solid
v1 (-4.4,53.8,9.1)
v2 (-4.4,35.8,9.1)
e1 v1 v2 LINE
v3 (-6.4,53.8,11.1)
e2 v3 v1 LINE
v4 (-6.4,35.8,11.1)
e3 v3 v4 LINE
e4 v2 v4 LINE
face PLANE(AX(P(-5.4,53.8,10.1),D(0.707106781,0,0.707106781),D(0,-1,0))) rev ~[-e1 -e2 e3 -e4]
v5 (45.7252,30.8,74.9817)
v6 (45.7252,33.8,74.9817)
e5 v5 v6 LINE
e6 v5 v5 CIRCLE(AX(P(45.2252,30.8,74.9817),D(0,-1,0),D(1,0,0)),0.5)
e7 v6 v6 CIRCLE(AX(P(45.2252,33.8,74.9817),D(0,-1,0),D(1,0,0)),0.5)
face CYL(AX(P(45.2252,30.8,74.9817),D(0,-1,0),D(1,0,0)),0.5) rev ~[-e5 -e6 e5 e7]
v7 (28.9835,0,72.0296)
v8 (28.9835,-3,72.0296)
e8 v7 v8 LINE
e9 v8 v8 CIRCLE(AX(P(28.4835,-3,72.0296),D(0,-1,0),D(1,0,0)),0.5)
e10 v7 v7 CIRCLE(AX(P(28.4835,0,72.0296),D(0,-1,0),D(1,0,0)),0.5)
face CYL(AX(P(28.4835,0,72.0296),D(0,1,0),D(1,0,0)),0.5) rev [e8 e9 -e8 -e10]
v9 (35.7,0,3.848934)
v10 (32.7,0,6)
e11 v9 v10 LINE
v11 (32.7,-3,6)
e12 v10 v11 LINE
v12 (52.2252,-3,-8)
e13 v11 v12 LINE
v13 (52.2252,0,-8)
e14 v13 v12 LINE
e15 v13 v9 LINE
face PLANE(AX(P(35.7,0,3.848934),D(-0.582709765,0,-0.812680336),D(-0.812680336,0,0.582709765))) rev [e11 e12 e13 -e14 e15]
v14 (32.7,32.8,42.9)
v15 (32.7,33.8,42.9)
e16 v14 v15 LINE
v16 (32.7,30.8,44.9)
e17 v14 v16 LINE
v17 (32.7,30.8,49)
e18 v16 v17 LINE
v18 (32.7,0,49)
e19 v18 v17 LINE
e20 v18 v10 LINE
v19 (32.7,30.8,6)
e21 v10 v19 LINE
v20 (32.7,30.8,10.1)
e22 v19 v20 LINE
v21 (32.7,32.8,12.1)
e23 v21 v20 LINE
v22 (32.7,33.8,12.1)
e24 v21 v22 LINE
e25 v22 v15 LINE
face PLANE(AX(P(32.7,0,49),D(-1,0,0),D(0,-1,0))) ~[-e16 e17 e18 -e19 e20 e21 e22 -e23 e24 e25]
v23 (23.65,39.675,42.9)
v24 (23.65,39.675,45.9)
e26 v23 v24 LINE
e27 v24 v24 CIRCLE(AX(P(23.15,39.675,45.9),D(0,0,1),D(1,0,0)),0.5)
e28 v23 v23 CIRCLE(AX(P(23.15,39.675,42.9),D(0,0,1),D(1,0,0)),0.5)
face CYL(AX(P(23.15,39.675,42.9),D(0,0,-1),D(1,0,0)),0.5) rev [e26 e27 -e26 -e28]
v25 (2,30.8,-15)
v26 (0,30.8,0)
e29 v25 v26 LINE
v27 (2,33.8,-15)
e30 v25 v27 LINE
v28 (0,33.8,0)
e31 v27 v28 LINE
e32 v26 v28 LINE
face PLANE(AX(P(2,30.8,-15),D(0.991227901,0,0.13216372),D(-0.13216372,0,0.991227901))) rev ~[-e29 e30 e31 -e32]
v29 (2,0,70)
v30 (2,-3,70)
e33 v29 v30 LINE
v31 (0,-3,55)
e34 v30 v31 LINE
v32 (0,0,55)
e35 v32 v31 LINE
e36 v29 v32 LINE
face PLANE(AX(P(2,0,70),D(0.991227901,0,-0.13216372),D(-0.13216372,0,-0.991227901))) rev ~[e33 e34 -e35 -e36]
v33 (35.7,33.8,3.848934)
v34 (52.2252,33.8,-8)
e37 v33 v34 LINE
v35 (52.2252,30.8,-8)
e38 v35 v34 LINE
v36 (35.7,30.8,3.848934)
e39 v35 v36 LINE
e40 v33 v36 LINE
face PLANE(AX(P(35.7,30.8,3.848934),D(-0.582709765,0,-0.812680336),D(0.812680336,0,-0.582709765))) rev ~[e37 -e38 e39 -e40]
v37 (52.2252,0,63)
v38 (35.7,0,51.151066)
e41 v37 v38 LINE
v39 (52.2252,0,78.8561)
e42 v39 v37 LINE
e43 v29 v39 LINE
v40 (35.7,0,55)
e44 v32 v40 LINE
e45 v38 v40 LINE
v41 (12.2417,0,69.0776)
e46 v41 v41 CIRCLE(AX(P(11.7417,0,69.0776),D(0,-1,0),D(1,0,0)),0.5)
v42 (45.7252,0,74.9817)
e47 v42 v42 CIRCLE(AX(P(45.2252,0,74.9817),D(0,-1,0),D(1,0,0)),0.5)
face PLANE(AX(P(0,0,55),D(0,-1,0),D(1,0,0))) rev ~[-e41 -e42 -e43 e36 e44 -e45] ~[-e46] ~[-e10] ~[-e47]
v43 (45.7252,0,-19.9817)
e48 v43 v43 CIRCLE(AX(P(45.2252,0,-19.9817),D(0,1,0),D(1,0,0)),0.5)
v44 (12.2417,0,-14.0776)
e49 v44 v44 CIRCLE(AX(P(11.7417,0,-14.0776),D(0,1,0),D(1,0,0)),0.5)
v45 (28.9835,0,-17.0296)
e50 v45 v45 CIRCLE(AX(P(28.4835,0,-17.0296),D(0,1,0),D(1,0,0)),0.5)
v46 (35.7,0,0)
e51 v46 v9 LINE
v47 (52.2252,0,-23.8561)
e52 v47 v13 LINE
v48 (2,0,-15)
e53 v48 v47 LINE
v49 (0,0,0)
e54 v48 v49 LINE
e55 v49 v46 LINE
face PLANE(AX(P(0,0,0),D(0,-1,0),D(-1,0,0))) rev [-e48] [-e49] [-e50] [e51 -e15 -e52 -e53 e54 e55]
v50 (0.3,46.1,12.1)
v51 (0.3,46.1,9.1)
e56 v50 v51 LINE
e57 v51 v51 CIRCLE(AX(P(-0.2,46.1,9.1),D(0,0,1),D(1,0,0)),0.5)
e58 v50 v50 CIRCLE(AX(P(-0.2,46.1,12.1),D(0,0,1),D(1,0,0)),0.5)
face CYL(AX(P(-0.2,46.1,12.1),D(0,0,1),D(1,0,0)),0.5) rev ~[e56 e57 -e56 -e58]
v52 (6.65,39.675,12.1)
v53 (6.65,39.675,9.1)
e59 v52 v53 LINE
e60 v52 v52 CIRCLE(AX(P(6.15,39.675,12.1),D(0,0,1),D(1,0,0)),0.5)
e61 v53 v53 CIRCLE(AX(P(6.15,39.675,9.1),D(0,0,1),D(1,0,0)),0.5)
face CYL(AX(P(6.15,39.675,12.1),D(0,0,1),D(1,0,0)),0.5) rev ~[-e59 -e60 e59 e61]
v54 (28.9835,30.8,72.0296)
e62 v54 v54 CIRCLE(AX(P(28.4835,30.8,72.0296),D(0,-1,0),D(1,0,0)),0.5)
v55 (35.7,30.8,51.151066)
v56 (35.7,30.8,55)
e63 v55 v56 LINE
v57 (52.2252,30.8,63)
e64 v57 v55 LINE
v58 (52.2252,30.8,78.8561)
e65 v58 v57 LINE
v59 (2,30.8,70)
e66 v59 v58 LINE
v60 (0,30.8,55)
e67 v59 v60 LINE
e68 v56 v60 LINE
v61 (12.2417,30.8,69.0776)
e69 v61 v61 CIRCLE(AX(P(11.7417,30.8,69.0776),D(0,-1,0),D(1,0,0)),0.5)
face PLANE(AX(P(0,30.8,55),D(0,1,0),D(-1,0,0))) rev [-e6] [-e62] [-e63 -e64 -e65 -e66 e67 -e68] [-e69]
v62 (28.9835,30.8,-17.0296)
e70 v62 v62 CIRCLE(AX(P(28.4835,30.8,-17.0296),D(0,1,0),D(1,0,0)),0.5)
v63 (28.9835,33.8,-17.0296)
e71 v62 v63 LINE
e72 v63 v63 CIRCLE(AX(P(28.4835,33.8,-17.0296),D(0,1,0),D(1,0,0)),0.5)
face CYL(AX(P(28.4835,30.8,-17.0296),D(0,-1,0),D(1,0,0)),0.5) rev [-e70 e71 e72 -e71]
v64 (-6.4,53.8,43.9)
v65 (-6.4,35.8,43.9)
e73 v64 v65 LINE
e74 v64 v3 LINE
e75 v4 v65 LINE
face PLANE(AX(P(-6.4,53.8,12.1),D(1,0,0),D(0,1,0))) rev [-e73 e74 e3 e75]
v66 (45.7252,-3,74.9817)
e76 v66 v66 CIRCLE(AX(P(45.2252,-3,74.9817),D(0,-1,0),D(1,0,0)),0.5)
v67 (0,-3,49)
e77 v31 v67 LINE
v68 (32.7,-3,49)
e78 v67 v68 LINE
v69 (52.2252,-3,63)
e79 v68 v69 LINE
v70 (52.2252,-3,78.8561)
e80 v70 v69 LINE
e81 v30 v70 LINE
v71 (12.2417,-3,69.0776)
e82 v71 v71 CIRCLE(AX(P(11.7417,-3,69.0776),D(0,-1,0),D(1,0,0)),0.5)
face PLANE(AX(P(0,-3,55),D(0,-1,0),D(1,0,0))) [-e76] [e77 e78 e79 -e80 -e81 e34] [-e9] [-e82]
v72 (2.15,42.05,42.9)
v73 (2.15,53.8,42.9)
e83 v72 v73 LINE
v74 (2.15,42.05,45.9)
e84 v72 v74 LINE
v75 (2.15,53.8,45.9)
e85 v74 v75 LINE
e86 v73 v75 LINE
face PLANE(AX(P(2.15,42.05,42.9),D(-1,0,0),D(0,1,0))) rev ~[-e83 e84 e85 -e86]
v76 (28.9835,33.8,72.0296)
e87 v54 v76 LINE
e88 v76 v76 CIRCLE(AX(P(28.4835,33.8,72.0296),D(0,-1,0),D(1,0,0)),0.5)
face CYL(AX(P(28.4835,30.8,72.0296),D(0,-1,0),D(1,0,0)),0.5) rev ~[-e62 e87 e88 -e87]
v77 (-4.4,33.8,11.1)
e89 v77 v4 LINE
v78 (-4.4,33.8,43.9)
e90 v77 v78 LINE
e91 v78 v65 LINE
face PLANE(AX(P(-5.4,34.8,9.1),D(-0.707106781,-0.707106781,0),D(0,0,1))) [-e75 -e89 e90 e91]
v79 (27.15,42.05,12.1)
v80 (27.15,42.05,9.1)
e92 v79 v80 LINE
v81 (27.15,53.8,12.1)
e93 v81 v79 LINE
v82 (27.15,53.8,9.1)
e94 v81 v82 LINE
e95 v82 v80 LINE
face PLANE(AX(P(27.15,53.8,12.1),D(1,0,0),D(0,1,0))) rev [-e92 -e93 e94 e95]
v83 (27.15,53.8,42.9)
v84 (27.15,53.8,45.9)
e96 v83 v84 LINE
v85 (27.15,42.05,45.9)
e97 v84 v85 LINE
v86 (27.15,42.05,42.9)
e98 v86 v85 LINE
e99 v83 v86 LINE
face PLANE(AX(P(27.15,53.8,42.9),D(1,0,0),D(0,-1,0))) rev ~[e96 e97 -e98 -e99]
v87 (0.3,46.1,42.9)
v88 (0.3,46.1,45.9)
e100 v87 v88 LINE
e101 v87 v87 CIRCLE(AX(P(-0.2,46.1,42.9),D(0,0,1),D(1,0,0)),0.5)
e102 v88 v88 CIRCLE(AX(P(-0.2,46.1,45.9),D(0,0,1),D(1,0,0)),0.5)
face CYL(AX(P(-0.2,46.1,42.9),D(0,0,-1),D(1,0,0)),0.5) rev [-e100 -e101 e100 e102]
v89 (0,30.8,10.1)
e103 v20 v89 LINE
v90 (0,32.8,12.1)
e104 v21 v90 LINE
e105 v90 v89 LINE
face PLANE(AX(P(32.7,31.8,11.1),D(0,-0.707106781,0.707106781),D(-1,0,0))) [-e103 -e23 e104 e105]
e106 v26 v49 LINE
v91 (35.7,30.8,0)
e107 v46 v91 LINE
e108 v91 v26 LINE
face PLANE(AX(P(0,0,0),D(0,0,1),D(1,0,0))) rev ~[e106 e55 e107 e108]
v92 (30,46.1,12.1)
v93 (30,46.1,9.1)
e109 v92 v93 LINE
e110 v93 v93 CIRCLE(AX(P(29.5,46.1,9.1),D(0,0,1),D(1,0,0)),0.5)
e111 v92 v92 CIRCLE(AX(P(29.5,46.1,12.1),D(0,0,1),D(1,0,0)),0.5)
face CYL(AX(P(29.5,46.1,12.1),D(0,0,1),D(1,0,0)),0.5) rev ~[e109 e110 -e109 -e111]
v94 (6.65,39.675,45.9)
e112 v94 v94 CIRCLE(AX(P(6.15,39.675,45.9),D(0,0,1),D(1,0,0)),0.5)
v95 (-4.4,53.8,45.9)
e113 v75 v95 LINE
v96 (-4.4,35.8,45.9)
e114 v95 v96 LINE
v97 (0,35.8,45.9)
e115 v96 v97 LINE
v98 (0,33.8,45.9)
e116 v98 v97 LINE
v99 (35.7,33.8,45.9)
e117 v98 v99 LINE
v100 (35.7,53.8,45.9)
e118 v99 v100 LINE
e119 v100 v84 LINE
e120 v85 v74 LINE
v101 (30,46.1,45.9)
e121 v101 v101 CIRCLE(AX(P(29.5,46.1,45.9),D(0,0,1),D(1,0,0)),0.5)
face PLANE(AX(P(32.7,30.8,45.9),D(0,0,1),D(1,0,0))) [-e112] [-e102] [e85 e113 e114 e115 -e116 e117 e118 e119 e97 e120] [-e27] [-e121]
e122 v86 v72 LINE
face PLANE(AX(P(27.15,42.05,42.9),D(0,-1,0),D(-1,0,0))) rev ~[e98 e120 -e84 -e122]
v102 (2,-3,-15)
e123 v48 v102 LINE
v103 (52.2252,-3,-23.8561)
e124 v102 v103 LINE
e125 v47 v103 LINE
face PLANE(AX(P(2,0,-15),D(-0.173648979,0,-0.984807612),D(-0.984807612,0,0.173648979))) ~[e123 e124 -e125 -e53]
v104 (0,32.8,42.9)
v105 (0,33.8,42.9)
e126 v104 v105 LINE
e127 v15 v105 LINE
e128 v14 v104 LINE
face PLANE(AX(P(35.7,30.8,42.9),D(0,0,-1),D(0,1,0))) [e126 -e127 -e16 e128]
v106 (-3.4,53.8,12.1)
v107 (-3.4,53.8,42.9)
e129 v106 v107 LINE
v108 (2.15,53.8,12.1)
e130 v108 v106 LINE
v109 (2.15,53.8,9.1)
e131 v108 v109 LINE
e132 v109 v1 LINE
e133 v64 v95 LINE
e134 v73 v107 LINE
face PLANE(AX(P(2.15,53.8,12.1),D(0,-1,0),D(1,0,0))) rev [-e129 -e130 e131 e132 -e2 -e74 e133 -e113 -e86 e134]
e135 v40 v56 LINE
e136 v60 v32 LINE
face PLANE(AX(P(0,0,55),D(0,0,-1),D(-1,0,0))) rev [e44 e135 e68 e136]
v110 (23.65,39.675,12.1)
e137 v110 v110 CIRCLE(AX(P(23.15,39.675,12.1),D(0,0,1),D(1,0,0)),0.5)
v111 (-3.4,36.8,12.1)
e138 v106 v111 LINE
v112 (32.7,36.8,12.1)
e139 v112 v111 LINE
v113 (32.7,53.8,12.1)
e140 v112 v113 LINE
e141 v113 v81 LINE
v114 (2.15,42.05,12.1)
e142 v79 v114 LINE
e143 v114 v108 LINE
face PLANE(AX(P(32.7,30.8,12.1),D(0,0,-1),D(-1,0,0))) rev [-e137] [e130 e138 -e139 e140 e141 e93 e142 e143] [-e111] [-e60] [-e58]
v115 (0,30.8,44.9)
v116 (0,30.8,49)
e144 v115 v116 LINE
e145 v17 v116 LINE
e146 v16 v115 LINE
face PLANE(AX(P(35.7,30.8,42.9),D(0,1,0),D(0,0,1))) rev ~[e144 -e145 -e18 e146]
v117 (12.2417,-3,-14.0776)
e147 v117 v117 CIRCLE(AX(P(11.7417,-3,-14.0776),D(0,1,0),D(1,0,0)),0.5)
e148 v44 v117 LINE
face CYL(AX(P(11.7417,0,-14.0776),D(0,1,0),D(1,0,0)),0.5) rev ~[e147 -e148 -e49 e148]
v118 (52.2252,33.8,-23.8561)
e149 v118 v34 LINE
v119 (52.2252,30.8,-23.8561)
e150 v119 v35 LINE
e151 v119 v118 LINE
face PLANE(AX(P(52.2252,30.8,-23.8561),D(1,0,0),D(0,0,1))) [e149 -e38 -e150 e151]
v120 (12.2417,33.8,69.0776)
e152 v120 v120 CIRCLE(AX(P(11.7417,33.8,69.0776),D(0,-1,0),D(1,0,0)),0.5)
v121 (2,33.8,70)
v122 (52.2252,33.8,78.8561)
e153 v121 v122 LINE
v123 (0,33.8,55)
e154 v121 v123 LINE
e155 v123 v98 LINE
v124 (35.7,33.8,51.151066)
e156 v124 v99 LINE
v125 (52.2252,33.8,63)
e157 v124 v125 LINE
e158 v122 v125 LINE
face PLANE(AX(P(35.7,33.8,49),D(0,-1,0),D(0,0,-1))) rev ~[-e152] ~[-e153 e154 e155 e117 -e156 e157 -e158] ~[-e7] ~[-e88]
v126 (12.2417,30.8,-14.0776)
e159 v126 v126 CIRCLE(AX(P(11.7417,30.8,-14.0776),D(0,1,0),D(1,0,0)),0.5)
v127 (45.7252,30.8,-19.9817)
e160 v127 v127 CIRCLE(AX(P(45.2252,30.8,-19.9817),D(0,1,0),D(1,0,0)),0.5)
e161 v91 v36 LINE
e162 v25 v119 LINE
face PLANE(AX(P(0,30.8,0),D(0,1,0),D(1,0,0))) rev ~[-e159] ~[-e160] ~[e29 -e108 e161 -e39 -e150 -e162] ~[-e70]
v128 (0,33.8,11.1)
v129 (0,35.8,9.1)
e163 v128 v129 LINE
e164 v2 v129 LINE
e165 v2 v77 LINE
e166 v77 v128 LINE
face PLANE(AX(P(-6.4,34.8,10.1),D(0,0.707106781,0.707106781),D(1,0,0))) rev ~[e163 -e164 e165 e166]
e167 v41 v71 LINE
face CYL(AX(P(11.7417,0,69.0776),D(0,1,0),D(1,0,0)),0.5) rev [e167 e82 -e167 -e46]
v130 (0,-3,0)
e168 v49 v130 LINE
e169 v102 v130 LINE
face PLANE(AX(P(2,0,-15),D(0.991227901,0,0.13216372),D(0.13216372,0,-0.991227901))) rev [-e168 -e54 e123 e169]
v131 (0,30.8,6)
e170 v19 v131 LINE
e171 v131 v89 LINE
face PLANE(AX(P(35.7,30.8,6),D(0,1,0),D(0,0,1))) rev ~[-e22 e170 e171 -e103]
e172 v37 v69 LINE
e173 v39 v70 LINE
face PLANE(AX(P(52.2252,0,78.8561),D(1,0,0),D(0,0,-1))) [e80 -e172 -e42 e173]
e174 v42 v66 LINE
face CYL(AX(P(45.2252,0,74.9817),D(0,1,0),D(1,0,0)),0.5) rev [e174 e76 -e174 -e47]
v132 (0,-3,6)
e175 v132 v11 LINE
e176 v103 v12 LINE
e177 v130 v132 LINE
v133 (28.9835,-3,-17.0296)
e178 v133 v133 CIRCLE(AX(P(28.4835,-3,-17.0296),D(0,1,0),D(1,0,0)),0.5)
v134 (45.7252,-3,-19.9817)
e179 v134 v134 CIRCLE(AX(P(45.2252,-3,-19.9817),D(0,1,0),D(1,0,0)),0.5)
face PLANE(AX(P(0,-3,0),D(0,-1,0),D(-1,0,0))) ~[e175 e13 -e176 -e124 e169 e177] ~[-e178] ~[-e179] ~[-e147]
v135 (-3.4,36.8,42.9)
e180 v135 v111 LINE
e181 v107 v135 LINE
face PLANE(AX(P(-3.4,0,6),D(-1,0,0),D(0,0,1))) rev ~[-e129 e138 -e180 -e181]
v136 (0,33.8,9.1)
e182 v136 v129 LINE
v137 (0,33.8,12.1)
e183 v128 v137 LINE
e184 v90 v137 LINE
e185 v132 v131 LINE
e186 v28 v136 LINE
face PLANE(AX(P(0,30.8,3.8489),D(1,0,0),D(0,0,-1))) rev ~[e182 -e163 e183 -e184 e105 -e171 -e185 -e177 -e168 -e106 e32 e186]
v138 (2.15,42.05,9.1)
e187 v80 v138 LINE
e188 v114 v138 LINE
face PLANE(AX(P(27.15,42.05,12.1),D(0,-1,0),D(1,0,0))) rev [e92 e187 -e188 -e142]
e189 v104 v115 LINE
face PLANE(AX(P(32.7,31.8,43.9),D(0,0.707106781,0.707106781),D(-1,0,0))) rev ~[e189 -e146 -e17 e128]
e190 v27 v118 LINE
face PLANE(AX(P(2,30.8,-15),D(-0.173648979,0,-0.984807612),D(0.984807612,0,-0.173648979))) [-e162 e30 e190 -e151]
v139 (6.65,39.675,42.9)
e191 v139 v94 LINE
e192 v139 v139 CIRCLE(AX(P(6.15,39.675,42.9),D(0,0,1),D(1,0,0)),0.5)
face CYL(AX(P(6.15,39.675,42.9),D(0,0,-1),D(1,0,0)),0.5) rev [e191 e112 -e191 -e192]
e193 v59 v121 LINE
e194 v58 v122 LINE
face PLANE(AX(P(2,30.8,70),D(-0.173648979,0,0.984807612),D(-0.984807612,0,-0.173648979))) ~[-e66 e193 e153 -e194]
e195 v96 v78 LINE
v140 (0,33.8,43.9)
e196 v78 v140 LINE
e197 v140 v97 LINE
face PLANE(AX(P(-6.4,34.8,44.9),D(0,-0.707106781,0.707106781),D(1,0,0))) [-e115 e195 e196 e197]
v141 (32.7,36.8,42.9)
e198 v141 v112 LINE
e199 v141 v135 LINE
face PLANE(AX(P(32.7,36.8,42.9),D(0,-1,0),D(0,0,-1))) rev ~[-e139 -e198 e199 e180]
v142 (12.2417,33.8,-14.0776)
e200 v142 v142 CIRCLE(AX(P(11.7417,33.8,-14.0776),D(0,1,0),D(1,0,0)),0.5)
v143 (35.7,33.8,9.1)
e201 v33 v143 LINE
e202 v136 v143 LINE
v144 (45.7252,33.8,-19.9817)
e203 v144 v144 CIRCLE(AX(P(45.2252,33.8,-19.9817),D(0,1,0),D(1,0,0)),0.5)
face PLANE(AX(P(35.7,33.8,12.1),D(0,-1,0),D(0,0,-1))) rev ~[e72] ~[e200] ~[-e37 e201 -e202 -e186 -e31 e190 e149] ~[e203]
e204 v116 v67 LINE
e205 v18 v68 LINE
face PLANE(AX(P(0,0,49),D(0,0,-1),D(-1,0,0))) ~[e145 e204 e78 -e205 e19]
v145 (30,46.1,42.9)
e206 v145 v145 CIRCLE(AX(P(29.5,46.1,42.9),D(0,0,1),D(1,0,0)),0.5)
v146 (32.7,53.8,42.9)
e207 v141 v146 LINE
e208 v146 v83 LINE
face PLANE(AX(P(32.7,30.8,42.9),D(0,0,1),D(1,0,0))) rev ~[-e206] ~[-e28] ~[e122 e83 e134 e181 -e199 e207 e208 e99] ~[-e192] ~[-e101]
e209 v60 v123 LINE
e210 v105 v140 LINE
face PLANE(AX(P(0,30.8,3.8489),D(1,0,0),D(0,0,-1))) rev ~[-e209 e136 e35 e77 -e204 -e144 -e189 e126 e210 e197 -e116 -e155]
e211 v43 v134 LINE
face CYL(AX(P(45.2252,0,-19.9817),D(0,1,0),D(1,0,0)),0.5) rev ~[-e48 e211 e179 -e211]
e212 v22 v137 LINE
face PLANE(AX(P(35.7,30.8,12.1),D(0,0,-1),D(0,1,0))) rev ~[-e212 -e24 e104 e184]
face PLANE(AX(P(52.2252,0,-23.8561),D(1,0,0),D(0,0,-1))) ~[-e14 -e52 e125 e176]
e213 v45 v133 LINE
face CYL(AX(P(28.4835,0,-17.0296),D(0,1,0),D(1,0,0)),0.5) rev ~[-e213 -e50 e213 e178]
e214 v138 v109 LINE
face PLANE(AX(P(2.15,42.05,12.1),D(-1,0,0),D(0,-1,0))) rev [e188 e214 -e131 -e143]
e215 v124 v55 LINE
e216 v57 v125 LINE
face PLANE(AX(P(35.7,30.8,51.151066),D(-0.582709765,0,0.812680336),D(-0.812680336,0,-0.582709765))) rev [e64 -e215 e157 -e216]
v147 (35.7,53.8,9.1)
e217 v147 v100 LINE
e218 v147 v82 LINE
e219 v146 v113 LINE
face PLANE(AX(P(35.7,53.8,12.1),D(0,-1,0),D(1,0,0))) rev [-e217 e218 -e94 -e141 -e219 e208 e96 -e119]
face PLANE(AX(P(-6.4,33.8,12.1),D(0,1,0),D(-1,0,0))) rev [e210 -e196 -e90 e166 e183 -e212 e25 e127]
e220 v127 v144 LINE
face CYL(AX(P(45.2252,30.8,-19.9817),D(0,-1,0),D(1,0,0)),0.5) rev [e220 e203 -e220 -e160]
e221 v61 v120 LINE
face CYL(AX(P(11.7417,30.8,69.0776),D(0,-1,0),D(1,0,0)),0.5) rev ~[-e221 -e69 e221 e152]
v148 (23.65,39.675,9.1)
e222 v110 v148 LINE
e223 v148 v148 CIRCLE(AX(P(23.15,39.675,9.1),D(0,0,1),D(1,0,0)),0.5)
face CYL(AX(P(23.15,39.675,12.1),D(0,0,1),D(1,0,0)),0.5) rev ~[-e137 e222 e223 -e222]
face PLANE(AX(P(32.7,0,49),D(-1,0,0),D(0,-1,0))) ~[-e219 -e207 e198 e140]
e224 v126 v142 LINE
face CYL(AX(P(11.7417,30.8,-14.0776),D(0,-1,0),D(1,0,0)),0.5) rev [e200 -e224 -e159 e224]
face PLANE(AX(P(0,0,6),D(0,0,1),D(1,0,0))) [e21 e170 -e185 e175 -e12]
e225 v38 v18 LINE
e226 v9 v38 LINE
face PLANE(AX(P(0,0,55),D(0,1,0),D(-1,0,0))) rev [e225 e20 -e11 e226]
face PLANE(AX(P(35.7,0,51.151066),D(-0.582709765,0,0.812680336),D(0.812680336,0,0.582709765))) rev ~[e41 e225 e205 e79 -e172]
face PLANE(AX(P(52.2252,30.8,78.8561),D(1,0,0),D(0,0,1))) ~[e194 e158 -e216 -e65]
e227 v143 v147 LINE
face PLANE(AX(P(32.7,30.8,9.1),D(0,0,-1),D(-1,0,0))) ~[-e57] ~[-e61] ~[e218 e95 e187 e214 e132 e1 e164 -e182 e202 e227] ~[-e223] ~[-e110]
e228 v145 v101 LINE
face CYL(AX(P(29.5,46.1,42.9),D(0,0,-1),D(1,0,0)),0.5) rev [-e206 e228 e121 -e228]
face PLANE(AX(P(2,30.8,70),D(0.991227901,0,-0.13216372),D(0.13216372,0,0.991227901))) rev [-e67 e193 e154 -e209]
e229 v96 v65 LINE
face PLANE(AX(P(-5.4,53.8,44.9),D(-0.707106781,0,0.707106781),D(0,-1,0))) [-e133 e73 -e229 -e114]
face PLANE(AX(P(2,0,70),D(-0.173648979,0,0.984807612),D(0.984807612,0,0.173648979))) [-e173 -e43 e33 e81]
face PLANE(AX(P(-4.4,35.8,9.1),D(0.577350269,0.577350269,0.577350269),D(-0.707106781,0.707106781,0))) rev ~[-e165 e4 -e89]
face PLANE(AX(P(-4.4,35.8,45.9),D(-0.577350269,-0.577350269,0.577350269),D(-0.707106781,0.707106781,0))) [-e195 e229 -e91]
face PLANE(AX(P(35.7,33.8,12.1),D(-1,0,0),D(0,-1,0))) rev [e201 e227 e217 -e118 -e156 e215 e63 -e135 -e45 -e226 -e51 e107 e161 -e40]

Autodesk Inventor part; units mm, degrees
ref_plane "YZ Plane" through (0, 0, 0) normal (1, 0, 0) x (0, 1, 0)
ref_plane "XZ Plane" through (0, 0, 0) normal (0, 1, 0) x (-1, 0, 0)
ref_plane "XY Plane" through (0, 0, 0) normal (0, 0, 1) x (1, 0, 0)
sketch "Sketch1" plane through (0, 0, 0) normal (0, 0, 1) x (1, 0, 0)
  line L0 (0, 0) -> (35.7, 0)
  line L1 (35.7, 0) -> (35.7, 30.8)
  line L2 (35.7, 30.8) -> (0, 30.8)
  line L3 (0, 30.8) -> (0, 0)
  dimension "d0" = 35.7
  dimension "d1" = 30.8
extrude "Extrusion1" add sketch "Sketch1" along normal blind 6
sketch "Sketch4" plane through (0, 0, 6) normal (0, 0, 1) x (1, 0, 0)
  line L0 (35.7, 30.8) -> (0, 30.8) projected
  line L1 (35.7, 0) -> (32.7, 0)
  line L2 (32.7, 0) -> (32.7, 30.8)
  line L3 (32.7, 30.8) -> (35.7, 30.8)
  line L4 (35.7, 30.8) -> (35.7, 0)
  point P0 (0, 0)
  dimension "d10" = 3
extrude "Extrusion3" add sketch "Sketch4" along normal blind 21.5
sketch "Sketch24" plane through (0, 30.8, 0) normal (0, 1, 0) x (1, 0, 0)
  line L0 (2, 15) -> (52.2252, 23.8561)
  line L1 (35.7, 0) -> (35.7, -27.5) projected
  line L2 (2, 15) -> (0, 0)
  line L3 (0, 0) -> (0, -6)
  line L4 (0, 0) -> (0, -6) projected
  line L5 (0, -6) -> (32.7, -6)
  line L6 (35.7, 0) -> (35.7, -27.5) projected
  line L7 (32.7, -6) -> (52.2252, 8)
  line L8 (52.2252, 23.8561) -> (52.2252, 8)
  line L9 (35.7, 0) -> (0, 0) projected
  circle A0 centre (45.2252, 19.9817) radius 0.5
  circle A1 centre (28.4835, 17.0296) radius 0.5
  circle A2 centre (11.7417, 14.0776) radius 0.5
  dimension "d152" = 51
  dimension "d153" = 80
  dimension "d155" = 15
  dimension "d159" = 17
  dimension "d160" = 1
  dimension "d161" = 1
  dimension "d162" = 2.6
  dimension "d163" = 2.6
  dimension "d164" = 7
  dimension "d165" = 2.6
  dimension "d166" = 17
  dimension "d167" = 2
  dimension "d168" = 8
  dimension "d169" = 1
extrude "Extrusion19" add sketch "Sketch24" along normal blind 3
ref_plane "Work Plane22" through (32.7, 15.4, 27.5) normal (0, 1, 0) x (1, 0, 0)
mirror "Mirror11" about plane through (32.7, 15.4, 27.5) normal (0, 1, 0) of "Extrusion19"
mirror "Mirror3" about plane through (34.2, 15.4, 27.5) normal (0, 0, 1) of "Extrusion1", "Extrusion3", "Extrusion19", "Mirror11"
sketch "Sketch28" plane through (35.7, 30.8, 51.1511) normal (0, 1, 0) x (1, 0, 0)
  circle A0 centre (-23.9583, -17.9266) radius 0.5 projected
  circle A1 centre (-7.2165, -20.8786) radius 0.5 projected
  circle A2 centre (9.5252, -23.8306) radius 0.5 projected
  circle A3 centre (-23.9583, 65.2287) radius 0.5 projected
  circle A4 centre (-7.2165, 68.1807) radius 0.5 projected
  circle A5 centre (9.5252, 71.1327) radius 0.5 projected
  line L0 (-35.7, 51.1511) -> (-33.7, 66.1511) projected
  line L1 (-33.7, 66.1511) -> (16.5252, 75.0071) projected
  line L2 (16.5252, 75.0071) -> (16.5252, 59.1511) projected
  line L3 (16.5252, 59.1511) -> (0, 47.3021) projected
  line L4 (0, 47.3021) -> (-3, 45.1511) projected
  line L5 (-3, 2.1511) -> (-3, 45.1511) projected
  line L6 (-3, 2.1511) -> (0, 0) projected
  line L7 (0, 47.3021) -> (0, 0) projected
  line L8 (-35.7, 51.1511) -> (0, 51.1511) projected
  line L9 (-35.7, 45.1511) -> (-35.7, 51.1511) projected
  line L10 (-3, 45.1511) -> (-35.7, 45.1511) projected
  line L11 (0, 51.1511) -> (0, 47.3021) projected
  line L12 (-35.7, 2.1511) -> (-3, 2.1511) projected
  line L13 (-35.7, -3.8489) -> (-35.7, 2.1511) projected
  line L14 (0, -3.8489) -> (-35.7, -3.8489) projected
  line L15 (0, 0) -> (0, -3.8489) projected
  line L16 (0, 0) -> (16.5252, -11.8489) projected
  line L17 (16.5252, -11.8489) -> (16.5252, -27.705) projected
  line L18 (16.5252, -27.705) -> (-33.7, -18.8489) projected
  line L19 (-33.7, -18.8489) -> (-35.7, -3.8489) projected
  line L20 (0, 47.3021) -> (0, 0) projected
  line L21 (0, 8.2511) -> (-3, 8.2511)
  line L22 (-3, 8.2511) -> (-3, 39.0511)
  line L23 (-3, 39.0511) -> (0, 39.0511)
  line L24 (0, 39.0511) -> (0, 8.2511)
  point P0 (-3, 23.6511)
  point P1 (-3, 23.6511)
  dimension "d205" = 30.8
  dimension "d206" = 3
extrude "Extrusion21" add sketch "Sketch28" along normal blind 23 contours L7 L21 L5 L23
sketch "Sketch29" plane through (32.7, 0, 6) normal (-1, 0, 0) x (0, 0, 1)
  line L0 (36.9, 30.8) -> (36.9, 53.8) projected
  line L1 (6.1, 33.8) -> (36.9, 33.8)
  line L2 (36.9, 33.8) -> (36.9, 36.8)
  line L3 (36.9, 36.8) -> (6.1, 36.8)
  line L4 (6.1, 36.8) -> (6.1, 33.8)
  line L5 (6.1, 53.8) -> (36.9, 53.8) projected
  line L6 (6.1, 30.8) -> (6.1, 53.8) projected
  point P0 (-6, 0)
  dimension "d207" = 3
  dimension "d208" = 17
extrude "Extrusion22" add sketch "Sketch29" along normal blind 36.1 contours L1 L4 L3 L0
sketch "Sketch30" plane through (-3.4, 0, 6) normal (-1, 0, 0) x (0, 0, 1)
  line L0 (6.1, 36.8) -> (36.9, 36.8) projected
  line L1 (36.9, 36.8) -> (36.9, 53.8) projected
  line L2 (6.1, 53.8) -> (36.9, 53.8) projected
  line L3 (6.1, 36.8) -> (6.1, 53.8) projected
  line L4 (6.1, 33.8) -> (36.9, 33.8) projected
  line L5 (36.9, 33.8) -> (36.9, 36.8) projected
  line L6 (36.9, 36.8) -> (6.1, 36.8) projected
  line L7 (6.1, 36.8) -> (6.1, 33.8) projected
  point P0 (-6, 0)
extrude "Extrusion23" add sketch "Sketch30" along normal blind 3
sketch "Sketch31" plane through (32.7, 30.8, 42.9) normal (0, 0, 1) x (1, 0, 0)
  line L0 (-39.1, 3) -> (3, 3)
  line L1 (3, 3) -> (3, 23)
  line L2 (3, 23) -> (-39.1, 23)
  line L3 (-39.1, 23) -> (-39.1, 3)
  circle A0 centre (-32.9, 15.3) radius 0.5
  circle A1 centre (-26.55, 8.875) radius 0.5
  circle A2 centre (-9.55, 8.875) radius 0.5
  circle A3 centre (-3.2, 15.3) radius 0.5
  line L4 (-32.9, 15.3) -> (-3.2, 15.3) construction
  line L5 (-26.55, 8.875) -> (-9.55, 8.875) construction
  line L6 (0, 6) -> (-36.1, 6) construction
  line L7 (-30.55, 23) -> (-5.55, 23)
  line L8 (-5.55, 23) -> (-5.55, 11.25)
  line L9 (-5.55, 11.25) -> (-30.55, 11.25)
  line L10 (-30.55, 11.25) -> (-30.55, 23)
  point P0 (-32.7, -30.8)
  point P1 (-18.05, 15.3)
  point P2 (-18.05, 23)
  point P3 (-18.05, 8.875)
  point P4 (-18.05, 11.25)
  dimension "d211" = 1
  dimension "d212" = 17
  dimension "d213" = 29.7
  dimension "d214" = 2.875
  dimension "d215" = 9.3
  dimension "d216" = 5.25
  dimension "d217" = 25
extrude "Extrusion24" add sketch "Sketch31" along normal blind 3 contours L3 L2 L10 L9 L8 L1 L0
ref_plane "Work Plane23" through (32.7, 0, 27.5) normal (0, 0, 1) x (1, 0, 0)
mirror "Mirror13" about plane through (32.7, 0, 27.5) normal (0, 0, 1) of "Extrusion24"
sketch "Sketch32" plane through (35.7, 30.8, 3.8489) normal (1, 0, 0) x (0, 0, -1)
  line L0 (3.8489, -30.8) -> (3.8489, 0) projected
  line L1 (3.8489, 0) -> (0, 0) projected
  line L2 (0, 0) -> (-8.2511, 0) projected
  line L3 (-8.2511, 0) -> (-8.2511, 3) projected
  line L4 (-8.2511, 3) -> (-5.2511, 3) projected
  line L5 (-5.2511, 3) -> (-5.2511, 23) projected
  line L6 (-5.2511, 23) -> (-42.0511, 23) projected
  line L7 (-42.0511, 3) -> (-42.0511, 23) projected
  line L8 (-39.0511, 3) -> (-42.0511, 3) projected
  line L9 (-39.0511, 0) -> (-39.0511, 3) projected
  line L10 (-39.0511, 0) -> (-47.3021, 0) projected
  line L11 (-51.1511, 0) -> (-47.3021, 0) projected
  line L12 (-51.1511, -30.8) -> (-51.1511, 0) projected
  line L13 (-47.3021, -30.8) -> (-51.1511, -30.8) projected
  line L14 (0, -30.8) -> (-47.3021, -30.8) projected
  line L15 (3.8489, -30.8) -> (0, -30.8) projected
  line L16 (-39.0511, 0) -> (-45.1511, 0)
  line L17 (-45.1511, 0) -> (-45.1511, 3)
  line L18 (-45.1511, 3) -> (-39.0511, 3)
  line L19 (-39.0511, 3) -> (-39.0511, 0)
  line L20 (-8.2511, 0) -> (-2.1511, 0)
  line L21 (-2.1511, 0) -> (-2.1511, 3)
  line L22 (-2.1511, 3) -> (-8.2511, 3)
  line L23 (-8.2511, 3) -> (-8.2511, 0)
extrude "Extrusion25" add sketch "Sketch32" against normal up to surface (35.7 mm away) contours L2 L3 L4 L22 L21 | L17 L18 L8 L9 L10
chamfer "Chamfer9" distance 2 angle 45 2 edges at (16.35, 30.8, 12.1) (16.35, 30.8, 42.9)
sketch "Sketch33" plane through (32.7, 30.8, 49) normal (0, 1, 0) x (1, 0, 0)
  line L0 (3, 0) -> (3, -2.1511) projected
  line L1 (3, 0) -> (0, 0) projected
  line L2 (3, -2.1511) -> (0, 0) projected
  line L3 (3, 45.1511) -> (0, 43) projected
  line L4 (3, 45.1511) -> (3, 43) projected
  line L5 (0, 43) -> (3, 43) projected
  point P0 (-32.7, 49)
extrude "Extrusion26" add sketch "Sketch33" along normal up to surface (3 mm away)
chamfer "Chamfer10" distance 2 angle 45 5 edges at (-6.4, 33.8, 27.5) (-3.2, 33.8, 45.9) (-6.4, 43.8, 45.9) (-3.2, 33.8, 9.1) (-6.4, 43.8, 9.1)
ref_plane "Work Plane3" through (17.85, 0, 49) normal (-1, 0, 0) x (0, 1, 0)
ref_plane "Work Plane4" through (35.7, 10.55, 49) normal (0, -1, 0) x (-1, 0, 0)
properties part number "RearConnector"
